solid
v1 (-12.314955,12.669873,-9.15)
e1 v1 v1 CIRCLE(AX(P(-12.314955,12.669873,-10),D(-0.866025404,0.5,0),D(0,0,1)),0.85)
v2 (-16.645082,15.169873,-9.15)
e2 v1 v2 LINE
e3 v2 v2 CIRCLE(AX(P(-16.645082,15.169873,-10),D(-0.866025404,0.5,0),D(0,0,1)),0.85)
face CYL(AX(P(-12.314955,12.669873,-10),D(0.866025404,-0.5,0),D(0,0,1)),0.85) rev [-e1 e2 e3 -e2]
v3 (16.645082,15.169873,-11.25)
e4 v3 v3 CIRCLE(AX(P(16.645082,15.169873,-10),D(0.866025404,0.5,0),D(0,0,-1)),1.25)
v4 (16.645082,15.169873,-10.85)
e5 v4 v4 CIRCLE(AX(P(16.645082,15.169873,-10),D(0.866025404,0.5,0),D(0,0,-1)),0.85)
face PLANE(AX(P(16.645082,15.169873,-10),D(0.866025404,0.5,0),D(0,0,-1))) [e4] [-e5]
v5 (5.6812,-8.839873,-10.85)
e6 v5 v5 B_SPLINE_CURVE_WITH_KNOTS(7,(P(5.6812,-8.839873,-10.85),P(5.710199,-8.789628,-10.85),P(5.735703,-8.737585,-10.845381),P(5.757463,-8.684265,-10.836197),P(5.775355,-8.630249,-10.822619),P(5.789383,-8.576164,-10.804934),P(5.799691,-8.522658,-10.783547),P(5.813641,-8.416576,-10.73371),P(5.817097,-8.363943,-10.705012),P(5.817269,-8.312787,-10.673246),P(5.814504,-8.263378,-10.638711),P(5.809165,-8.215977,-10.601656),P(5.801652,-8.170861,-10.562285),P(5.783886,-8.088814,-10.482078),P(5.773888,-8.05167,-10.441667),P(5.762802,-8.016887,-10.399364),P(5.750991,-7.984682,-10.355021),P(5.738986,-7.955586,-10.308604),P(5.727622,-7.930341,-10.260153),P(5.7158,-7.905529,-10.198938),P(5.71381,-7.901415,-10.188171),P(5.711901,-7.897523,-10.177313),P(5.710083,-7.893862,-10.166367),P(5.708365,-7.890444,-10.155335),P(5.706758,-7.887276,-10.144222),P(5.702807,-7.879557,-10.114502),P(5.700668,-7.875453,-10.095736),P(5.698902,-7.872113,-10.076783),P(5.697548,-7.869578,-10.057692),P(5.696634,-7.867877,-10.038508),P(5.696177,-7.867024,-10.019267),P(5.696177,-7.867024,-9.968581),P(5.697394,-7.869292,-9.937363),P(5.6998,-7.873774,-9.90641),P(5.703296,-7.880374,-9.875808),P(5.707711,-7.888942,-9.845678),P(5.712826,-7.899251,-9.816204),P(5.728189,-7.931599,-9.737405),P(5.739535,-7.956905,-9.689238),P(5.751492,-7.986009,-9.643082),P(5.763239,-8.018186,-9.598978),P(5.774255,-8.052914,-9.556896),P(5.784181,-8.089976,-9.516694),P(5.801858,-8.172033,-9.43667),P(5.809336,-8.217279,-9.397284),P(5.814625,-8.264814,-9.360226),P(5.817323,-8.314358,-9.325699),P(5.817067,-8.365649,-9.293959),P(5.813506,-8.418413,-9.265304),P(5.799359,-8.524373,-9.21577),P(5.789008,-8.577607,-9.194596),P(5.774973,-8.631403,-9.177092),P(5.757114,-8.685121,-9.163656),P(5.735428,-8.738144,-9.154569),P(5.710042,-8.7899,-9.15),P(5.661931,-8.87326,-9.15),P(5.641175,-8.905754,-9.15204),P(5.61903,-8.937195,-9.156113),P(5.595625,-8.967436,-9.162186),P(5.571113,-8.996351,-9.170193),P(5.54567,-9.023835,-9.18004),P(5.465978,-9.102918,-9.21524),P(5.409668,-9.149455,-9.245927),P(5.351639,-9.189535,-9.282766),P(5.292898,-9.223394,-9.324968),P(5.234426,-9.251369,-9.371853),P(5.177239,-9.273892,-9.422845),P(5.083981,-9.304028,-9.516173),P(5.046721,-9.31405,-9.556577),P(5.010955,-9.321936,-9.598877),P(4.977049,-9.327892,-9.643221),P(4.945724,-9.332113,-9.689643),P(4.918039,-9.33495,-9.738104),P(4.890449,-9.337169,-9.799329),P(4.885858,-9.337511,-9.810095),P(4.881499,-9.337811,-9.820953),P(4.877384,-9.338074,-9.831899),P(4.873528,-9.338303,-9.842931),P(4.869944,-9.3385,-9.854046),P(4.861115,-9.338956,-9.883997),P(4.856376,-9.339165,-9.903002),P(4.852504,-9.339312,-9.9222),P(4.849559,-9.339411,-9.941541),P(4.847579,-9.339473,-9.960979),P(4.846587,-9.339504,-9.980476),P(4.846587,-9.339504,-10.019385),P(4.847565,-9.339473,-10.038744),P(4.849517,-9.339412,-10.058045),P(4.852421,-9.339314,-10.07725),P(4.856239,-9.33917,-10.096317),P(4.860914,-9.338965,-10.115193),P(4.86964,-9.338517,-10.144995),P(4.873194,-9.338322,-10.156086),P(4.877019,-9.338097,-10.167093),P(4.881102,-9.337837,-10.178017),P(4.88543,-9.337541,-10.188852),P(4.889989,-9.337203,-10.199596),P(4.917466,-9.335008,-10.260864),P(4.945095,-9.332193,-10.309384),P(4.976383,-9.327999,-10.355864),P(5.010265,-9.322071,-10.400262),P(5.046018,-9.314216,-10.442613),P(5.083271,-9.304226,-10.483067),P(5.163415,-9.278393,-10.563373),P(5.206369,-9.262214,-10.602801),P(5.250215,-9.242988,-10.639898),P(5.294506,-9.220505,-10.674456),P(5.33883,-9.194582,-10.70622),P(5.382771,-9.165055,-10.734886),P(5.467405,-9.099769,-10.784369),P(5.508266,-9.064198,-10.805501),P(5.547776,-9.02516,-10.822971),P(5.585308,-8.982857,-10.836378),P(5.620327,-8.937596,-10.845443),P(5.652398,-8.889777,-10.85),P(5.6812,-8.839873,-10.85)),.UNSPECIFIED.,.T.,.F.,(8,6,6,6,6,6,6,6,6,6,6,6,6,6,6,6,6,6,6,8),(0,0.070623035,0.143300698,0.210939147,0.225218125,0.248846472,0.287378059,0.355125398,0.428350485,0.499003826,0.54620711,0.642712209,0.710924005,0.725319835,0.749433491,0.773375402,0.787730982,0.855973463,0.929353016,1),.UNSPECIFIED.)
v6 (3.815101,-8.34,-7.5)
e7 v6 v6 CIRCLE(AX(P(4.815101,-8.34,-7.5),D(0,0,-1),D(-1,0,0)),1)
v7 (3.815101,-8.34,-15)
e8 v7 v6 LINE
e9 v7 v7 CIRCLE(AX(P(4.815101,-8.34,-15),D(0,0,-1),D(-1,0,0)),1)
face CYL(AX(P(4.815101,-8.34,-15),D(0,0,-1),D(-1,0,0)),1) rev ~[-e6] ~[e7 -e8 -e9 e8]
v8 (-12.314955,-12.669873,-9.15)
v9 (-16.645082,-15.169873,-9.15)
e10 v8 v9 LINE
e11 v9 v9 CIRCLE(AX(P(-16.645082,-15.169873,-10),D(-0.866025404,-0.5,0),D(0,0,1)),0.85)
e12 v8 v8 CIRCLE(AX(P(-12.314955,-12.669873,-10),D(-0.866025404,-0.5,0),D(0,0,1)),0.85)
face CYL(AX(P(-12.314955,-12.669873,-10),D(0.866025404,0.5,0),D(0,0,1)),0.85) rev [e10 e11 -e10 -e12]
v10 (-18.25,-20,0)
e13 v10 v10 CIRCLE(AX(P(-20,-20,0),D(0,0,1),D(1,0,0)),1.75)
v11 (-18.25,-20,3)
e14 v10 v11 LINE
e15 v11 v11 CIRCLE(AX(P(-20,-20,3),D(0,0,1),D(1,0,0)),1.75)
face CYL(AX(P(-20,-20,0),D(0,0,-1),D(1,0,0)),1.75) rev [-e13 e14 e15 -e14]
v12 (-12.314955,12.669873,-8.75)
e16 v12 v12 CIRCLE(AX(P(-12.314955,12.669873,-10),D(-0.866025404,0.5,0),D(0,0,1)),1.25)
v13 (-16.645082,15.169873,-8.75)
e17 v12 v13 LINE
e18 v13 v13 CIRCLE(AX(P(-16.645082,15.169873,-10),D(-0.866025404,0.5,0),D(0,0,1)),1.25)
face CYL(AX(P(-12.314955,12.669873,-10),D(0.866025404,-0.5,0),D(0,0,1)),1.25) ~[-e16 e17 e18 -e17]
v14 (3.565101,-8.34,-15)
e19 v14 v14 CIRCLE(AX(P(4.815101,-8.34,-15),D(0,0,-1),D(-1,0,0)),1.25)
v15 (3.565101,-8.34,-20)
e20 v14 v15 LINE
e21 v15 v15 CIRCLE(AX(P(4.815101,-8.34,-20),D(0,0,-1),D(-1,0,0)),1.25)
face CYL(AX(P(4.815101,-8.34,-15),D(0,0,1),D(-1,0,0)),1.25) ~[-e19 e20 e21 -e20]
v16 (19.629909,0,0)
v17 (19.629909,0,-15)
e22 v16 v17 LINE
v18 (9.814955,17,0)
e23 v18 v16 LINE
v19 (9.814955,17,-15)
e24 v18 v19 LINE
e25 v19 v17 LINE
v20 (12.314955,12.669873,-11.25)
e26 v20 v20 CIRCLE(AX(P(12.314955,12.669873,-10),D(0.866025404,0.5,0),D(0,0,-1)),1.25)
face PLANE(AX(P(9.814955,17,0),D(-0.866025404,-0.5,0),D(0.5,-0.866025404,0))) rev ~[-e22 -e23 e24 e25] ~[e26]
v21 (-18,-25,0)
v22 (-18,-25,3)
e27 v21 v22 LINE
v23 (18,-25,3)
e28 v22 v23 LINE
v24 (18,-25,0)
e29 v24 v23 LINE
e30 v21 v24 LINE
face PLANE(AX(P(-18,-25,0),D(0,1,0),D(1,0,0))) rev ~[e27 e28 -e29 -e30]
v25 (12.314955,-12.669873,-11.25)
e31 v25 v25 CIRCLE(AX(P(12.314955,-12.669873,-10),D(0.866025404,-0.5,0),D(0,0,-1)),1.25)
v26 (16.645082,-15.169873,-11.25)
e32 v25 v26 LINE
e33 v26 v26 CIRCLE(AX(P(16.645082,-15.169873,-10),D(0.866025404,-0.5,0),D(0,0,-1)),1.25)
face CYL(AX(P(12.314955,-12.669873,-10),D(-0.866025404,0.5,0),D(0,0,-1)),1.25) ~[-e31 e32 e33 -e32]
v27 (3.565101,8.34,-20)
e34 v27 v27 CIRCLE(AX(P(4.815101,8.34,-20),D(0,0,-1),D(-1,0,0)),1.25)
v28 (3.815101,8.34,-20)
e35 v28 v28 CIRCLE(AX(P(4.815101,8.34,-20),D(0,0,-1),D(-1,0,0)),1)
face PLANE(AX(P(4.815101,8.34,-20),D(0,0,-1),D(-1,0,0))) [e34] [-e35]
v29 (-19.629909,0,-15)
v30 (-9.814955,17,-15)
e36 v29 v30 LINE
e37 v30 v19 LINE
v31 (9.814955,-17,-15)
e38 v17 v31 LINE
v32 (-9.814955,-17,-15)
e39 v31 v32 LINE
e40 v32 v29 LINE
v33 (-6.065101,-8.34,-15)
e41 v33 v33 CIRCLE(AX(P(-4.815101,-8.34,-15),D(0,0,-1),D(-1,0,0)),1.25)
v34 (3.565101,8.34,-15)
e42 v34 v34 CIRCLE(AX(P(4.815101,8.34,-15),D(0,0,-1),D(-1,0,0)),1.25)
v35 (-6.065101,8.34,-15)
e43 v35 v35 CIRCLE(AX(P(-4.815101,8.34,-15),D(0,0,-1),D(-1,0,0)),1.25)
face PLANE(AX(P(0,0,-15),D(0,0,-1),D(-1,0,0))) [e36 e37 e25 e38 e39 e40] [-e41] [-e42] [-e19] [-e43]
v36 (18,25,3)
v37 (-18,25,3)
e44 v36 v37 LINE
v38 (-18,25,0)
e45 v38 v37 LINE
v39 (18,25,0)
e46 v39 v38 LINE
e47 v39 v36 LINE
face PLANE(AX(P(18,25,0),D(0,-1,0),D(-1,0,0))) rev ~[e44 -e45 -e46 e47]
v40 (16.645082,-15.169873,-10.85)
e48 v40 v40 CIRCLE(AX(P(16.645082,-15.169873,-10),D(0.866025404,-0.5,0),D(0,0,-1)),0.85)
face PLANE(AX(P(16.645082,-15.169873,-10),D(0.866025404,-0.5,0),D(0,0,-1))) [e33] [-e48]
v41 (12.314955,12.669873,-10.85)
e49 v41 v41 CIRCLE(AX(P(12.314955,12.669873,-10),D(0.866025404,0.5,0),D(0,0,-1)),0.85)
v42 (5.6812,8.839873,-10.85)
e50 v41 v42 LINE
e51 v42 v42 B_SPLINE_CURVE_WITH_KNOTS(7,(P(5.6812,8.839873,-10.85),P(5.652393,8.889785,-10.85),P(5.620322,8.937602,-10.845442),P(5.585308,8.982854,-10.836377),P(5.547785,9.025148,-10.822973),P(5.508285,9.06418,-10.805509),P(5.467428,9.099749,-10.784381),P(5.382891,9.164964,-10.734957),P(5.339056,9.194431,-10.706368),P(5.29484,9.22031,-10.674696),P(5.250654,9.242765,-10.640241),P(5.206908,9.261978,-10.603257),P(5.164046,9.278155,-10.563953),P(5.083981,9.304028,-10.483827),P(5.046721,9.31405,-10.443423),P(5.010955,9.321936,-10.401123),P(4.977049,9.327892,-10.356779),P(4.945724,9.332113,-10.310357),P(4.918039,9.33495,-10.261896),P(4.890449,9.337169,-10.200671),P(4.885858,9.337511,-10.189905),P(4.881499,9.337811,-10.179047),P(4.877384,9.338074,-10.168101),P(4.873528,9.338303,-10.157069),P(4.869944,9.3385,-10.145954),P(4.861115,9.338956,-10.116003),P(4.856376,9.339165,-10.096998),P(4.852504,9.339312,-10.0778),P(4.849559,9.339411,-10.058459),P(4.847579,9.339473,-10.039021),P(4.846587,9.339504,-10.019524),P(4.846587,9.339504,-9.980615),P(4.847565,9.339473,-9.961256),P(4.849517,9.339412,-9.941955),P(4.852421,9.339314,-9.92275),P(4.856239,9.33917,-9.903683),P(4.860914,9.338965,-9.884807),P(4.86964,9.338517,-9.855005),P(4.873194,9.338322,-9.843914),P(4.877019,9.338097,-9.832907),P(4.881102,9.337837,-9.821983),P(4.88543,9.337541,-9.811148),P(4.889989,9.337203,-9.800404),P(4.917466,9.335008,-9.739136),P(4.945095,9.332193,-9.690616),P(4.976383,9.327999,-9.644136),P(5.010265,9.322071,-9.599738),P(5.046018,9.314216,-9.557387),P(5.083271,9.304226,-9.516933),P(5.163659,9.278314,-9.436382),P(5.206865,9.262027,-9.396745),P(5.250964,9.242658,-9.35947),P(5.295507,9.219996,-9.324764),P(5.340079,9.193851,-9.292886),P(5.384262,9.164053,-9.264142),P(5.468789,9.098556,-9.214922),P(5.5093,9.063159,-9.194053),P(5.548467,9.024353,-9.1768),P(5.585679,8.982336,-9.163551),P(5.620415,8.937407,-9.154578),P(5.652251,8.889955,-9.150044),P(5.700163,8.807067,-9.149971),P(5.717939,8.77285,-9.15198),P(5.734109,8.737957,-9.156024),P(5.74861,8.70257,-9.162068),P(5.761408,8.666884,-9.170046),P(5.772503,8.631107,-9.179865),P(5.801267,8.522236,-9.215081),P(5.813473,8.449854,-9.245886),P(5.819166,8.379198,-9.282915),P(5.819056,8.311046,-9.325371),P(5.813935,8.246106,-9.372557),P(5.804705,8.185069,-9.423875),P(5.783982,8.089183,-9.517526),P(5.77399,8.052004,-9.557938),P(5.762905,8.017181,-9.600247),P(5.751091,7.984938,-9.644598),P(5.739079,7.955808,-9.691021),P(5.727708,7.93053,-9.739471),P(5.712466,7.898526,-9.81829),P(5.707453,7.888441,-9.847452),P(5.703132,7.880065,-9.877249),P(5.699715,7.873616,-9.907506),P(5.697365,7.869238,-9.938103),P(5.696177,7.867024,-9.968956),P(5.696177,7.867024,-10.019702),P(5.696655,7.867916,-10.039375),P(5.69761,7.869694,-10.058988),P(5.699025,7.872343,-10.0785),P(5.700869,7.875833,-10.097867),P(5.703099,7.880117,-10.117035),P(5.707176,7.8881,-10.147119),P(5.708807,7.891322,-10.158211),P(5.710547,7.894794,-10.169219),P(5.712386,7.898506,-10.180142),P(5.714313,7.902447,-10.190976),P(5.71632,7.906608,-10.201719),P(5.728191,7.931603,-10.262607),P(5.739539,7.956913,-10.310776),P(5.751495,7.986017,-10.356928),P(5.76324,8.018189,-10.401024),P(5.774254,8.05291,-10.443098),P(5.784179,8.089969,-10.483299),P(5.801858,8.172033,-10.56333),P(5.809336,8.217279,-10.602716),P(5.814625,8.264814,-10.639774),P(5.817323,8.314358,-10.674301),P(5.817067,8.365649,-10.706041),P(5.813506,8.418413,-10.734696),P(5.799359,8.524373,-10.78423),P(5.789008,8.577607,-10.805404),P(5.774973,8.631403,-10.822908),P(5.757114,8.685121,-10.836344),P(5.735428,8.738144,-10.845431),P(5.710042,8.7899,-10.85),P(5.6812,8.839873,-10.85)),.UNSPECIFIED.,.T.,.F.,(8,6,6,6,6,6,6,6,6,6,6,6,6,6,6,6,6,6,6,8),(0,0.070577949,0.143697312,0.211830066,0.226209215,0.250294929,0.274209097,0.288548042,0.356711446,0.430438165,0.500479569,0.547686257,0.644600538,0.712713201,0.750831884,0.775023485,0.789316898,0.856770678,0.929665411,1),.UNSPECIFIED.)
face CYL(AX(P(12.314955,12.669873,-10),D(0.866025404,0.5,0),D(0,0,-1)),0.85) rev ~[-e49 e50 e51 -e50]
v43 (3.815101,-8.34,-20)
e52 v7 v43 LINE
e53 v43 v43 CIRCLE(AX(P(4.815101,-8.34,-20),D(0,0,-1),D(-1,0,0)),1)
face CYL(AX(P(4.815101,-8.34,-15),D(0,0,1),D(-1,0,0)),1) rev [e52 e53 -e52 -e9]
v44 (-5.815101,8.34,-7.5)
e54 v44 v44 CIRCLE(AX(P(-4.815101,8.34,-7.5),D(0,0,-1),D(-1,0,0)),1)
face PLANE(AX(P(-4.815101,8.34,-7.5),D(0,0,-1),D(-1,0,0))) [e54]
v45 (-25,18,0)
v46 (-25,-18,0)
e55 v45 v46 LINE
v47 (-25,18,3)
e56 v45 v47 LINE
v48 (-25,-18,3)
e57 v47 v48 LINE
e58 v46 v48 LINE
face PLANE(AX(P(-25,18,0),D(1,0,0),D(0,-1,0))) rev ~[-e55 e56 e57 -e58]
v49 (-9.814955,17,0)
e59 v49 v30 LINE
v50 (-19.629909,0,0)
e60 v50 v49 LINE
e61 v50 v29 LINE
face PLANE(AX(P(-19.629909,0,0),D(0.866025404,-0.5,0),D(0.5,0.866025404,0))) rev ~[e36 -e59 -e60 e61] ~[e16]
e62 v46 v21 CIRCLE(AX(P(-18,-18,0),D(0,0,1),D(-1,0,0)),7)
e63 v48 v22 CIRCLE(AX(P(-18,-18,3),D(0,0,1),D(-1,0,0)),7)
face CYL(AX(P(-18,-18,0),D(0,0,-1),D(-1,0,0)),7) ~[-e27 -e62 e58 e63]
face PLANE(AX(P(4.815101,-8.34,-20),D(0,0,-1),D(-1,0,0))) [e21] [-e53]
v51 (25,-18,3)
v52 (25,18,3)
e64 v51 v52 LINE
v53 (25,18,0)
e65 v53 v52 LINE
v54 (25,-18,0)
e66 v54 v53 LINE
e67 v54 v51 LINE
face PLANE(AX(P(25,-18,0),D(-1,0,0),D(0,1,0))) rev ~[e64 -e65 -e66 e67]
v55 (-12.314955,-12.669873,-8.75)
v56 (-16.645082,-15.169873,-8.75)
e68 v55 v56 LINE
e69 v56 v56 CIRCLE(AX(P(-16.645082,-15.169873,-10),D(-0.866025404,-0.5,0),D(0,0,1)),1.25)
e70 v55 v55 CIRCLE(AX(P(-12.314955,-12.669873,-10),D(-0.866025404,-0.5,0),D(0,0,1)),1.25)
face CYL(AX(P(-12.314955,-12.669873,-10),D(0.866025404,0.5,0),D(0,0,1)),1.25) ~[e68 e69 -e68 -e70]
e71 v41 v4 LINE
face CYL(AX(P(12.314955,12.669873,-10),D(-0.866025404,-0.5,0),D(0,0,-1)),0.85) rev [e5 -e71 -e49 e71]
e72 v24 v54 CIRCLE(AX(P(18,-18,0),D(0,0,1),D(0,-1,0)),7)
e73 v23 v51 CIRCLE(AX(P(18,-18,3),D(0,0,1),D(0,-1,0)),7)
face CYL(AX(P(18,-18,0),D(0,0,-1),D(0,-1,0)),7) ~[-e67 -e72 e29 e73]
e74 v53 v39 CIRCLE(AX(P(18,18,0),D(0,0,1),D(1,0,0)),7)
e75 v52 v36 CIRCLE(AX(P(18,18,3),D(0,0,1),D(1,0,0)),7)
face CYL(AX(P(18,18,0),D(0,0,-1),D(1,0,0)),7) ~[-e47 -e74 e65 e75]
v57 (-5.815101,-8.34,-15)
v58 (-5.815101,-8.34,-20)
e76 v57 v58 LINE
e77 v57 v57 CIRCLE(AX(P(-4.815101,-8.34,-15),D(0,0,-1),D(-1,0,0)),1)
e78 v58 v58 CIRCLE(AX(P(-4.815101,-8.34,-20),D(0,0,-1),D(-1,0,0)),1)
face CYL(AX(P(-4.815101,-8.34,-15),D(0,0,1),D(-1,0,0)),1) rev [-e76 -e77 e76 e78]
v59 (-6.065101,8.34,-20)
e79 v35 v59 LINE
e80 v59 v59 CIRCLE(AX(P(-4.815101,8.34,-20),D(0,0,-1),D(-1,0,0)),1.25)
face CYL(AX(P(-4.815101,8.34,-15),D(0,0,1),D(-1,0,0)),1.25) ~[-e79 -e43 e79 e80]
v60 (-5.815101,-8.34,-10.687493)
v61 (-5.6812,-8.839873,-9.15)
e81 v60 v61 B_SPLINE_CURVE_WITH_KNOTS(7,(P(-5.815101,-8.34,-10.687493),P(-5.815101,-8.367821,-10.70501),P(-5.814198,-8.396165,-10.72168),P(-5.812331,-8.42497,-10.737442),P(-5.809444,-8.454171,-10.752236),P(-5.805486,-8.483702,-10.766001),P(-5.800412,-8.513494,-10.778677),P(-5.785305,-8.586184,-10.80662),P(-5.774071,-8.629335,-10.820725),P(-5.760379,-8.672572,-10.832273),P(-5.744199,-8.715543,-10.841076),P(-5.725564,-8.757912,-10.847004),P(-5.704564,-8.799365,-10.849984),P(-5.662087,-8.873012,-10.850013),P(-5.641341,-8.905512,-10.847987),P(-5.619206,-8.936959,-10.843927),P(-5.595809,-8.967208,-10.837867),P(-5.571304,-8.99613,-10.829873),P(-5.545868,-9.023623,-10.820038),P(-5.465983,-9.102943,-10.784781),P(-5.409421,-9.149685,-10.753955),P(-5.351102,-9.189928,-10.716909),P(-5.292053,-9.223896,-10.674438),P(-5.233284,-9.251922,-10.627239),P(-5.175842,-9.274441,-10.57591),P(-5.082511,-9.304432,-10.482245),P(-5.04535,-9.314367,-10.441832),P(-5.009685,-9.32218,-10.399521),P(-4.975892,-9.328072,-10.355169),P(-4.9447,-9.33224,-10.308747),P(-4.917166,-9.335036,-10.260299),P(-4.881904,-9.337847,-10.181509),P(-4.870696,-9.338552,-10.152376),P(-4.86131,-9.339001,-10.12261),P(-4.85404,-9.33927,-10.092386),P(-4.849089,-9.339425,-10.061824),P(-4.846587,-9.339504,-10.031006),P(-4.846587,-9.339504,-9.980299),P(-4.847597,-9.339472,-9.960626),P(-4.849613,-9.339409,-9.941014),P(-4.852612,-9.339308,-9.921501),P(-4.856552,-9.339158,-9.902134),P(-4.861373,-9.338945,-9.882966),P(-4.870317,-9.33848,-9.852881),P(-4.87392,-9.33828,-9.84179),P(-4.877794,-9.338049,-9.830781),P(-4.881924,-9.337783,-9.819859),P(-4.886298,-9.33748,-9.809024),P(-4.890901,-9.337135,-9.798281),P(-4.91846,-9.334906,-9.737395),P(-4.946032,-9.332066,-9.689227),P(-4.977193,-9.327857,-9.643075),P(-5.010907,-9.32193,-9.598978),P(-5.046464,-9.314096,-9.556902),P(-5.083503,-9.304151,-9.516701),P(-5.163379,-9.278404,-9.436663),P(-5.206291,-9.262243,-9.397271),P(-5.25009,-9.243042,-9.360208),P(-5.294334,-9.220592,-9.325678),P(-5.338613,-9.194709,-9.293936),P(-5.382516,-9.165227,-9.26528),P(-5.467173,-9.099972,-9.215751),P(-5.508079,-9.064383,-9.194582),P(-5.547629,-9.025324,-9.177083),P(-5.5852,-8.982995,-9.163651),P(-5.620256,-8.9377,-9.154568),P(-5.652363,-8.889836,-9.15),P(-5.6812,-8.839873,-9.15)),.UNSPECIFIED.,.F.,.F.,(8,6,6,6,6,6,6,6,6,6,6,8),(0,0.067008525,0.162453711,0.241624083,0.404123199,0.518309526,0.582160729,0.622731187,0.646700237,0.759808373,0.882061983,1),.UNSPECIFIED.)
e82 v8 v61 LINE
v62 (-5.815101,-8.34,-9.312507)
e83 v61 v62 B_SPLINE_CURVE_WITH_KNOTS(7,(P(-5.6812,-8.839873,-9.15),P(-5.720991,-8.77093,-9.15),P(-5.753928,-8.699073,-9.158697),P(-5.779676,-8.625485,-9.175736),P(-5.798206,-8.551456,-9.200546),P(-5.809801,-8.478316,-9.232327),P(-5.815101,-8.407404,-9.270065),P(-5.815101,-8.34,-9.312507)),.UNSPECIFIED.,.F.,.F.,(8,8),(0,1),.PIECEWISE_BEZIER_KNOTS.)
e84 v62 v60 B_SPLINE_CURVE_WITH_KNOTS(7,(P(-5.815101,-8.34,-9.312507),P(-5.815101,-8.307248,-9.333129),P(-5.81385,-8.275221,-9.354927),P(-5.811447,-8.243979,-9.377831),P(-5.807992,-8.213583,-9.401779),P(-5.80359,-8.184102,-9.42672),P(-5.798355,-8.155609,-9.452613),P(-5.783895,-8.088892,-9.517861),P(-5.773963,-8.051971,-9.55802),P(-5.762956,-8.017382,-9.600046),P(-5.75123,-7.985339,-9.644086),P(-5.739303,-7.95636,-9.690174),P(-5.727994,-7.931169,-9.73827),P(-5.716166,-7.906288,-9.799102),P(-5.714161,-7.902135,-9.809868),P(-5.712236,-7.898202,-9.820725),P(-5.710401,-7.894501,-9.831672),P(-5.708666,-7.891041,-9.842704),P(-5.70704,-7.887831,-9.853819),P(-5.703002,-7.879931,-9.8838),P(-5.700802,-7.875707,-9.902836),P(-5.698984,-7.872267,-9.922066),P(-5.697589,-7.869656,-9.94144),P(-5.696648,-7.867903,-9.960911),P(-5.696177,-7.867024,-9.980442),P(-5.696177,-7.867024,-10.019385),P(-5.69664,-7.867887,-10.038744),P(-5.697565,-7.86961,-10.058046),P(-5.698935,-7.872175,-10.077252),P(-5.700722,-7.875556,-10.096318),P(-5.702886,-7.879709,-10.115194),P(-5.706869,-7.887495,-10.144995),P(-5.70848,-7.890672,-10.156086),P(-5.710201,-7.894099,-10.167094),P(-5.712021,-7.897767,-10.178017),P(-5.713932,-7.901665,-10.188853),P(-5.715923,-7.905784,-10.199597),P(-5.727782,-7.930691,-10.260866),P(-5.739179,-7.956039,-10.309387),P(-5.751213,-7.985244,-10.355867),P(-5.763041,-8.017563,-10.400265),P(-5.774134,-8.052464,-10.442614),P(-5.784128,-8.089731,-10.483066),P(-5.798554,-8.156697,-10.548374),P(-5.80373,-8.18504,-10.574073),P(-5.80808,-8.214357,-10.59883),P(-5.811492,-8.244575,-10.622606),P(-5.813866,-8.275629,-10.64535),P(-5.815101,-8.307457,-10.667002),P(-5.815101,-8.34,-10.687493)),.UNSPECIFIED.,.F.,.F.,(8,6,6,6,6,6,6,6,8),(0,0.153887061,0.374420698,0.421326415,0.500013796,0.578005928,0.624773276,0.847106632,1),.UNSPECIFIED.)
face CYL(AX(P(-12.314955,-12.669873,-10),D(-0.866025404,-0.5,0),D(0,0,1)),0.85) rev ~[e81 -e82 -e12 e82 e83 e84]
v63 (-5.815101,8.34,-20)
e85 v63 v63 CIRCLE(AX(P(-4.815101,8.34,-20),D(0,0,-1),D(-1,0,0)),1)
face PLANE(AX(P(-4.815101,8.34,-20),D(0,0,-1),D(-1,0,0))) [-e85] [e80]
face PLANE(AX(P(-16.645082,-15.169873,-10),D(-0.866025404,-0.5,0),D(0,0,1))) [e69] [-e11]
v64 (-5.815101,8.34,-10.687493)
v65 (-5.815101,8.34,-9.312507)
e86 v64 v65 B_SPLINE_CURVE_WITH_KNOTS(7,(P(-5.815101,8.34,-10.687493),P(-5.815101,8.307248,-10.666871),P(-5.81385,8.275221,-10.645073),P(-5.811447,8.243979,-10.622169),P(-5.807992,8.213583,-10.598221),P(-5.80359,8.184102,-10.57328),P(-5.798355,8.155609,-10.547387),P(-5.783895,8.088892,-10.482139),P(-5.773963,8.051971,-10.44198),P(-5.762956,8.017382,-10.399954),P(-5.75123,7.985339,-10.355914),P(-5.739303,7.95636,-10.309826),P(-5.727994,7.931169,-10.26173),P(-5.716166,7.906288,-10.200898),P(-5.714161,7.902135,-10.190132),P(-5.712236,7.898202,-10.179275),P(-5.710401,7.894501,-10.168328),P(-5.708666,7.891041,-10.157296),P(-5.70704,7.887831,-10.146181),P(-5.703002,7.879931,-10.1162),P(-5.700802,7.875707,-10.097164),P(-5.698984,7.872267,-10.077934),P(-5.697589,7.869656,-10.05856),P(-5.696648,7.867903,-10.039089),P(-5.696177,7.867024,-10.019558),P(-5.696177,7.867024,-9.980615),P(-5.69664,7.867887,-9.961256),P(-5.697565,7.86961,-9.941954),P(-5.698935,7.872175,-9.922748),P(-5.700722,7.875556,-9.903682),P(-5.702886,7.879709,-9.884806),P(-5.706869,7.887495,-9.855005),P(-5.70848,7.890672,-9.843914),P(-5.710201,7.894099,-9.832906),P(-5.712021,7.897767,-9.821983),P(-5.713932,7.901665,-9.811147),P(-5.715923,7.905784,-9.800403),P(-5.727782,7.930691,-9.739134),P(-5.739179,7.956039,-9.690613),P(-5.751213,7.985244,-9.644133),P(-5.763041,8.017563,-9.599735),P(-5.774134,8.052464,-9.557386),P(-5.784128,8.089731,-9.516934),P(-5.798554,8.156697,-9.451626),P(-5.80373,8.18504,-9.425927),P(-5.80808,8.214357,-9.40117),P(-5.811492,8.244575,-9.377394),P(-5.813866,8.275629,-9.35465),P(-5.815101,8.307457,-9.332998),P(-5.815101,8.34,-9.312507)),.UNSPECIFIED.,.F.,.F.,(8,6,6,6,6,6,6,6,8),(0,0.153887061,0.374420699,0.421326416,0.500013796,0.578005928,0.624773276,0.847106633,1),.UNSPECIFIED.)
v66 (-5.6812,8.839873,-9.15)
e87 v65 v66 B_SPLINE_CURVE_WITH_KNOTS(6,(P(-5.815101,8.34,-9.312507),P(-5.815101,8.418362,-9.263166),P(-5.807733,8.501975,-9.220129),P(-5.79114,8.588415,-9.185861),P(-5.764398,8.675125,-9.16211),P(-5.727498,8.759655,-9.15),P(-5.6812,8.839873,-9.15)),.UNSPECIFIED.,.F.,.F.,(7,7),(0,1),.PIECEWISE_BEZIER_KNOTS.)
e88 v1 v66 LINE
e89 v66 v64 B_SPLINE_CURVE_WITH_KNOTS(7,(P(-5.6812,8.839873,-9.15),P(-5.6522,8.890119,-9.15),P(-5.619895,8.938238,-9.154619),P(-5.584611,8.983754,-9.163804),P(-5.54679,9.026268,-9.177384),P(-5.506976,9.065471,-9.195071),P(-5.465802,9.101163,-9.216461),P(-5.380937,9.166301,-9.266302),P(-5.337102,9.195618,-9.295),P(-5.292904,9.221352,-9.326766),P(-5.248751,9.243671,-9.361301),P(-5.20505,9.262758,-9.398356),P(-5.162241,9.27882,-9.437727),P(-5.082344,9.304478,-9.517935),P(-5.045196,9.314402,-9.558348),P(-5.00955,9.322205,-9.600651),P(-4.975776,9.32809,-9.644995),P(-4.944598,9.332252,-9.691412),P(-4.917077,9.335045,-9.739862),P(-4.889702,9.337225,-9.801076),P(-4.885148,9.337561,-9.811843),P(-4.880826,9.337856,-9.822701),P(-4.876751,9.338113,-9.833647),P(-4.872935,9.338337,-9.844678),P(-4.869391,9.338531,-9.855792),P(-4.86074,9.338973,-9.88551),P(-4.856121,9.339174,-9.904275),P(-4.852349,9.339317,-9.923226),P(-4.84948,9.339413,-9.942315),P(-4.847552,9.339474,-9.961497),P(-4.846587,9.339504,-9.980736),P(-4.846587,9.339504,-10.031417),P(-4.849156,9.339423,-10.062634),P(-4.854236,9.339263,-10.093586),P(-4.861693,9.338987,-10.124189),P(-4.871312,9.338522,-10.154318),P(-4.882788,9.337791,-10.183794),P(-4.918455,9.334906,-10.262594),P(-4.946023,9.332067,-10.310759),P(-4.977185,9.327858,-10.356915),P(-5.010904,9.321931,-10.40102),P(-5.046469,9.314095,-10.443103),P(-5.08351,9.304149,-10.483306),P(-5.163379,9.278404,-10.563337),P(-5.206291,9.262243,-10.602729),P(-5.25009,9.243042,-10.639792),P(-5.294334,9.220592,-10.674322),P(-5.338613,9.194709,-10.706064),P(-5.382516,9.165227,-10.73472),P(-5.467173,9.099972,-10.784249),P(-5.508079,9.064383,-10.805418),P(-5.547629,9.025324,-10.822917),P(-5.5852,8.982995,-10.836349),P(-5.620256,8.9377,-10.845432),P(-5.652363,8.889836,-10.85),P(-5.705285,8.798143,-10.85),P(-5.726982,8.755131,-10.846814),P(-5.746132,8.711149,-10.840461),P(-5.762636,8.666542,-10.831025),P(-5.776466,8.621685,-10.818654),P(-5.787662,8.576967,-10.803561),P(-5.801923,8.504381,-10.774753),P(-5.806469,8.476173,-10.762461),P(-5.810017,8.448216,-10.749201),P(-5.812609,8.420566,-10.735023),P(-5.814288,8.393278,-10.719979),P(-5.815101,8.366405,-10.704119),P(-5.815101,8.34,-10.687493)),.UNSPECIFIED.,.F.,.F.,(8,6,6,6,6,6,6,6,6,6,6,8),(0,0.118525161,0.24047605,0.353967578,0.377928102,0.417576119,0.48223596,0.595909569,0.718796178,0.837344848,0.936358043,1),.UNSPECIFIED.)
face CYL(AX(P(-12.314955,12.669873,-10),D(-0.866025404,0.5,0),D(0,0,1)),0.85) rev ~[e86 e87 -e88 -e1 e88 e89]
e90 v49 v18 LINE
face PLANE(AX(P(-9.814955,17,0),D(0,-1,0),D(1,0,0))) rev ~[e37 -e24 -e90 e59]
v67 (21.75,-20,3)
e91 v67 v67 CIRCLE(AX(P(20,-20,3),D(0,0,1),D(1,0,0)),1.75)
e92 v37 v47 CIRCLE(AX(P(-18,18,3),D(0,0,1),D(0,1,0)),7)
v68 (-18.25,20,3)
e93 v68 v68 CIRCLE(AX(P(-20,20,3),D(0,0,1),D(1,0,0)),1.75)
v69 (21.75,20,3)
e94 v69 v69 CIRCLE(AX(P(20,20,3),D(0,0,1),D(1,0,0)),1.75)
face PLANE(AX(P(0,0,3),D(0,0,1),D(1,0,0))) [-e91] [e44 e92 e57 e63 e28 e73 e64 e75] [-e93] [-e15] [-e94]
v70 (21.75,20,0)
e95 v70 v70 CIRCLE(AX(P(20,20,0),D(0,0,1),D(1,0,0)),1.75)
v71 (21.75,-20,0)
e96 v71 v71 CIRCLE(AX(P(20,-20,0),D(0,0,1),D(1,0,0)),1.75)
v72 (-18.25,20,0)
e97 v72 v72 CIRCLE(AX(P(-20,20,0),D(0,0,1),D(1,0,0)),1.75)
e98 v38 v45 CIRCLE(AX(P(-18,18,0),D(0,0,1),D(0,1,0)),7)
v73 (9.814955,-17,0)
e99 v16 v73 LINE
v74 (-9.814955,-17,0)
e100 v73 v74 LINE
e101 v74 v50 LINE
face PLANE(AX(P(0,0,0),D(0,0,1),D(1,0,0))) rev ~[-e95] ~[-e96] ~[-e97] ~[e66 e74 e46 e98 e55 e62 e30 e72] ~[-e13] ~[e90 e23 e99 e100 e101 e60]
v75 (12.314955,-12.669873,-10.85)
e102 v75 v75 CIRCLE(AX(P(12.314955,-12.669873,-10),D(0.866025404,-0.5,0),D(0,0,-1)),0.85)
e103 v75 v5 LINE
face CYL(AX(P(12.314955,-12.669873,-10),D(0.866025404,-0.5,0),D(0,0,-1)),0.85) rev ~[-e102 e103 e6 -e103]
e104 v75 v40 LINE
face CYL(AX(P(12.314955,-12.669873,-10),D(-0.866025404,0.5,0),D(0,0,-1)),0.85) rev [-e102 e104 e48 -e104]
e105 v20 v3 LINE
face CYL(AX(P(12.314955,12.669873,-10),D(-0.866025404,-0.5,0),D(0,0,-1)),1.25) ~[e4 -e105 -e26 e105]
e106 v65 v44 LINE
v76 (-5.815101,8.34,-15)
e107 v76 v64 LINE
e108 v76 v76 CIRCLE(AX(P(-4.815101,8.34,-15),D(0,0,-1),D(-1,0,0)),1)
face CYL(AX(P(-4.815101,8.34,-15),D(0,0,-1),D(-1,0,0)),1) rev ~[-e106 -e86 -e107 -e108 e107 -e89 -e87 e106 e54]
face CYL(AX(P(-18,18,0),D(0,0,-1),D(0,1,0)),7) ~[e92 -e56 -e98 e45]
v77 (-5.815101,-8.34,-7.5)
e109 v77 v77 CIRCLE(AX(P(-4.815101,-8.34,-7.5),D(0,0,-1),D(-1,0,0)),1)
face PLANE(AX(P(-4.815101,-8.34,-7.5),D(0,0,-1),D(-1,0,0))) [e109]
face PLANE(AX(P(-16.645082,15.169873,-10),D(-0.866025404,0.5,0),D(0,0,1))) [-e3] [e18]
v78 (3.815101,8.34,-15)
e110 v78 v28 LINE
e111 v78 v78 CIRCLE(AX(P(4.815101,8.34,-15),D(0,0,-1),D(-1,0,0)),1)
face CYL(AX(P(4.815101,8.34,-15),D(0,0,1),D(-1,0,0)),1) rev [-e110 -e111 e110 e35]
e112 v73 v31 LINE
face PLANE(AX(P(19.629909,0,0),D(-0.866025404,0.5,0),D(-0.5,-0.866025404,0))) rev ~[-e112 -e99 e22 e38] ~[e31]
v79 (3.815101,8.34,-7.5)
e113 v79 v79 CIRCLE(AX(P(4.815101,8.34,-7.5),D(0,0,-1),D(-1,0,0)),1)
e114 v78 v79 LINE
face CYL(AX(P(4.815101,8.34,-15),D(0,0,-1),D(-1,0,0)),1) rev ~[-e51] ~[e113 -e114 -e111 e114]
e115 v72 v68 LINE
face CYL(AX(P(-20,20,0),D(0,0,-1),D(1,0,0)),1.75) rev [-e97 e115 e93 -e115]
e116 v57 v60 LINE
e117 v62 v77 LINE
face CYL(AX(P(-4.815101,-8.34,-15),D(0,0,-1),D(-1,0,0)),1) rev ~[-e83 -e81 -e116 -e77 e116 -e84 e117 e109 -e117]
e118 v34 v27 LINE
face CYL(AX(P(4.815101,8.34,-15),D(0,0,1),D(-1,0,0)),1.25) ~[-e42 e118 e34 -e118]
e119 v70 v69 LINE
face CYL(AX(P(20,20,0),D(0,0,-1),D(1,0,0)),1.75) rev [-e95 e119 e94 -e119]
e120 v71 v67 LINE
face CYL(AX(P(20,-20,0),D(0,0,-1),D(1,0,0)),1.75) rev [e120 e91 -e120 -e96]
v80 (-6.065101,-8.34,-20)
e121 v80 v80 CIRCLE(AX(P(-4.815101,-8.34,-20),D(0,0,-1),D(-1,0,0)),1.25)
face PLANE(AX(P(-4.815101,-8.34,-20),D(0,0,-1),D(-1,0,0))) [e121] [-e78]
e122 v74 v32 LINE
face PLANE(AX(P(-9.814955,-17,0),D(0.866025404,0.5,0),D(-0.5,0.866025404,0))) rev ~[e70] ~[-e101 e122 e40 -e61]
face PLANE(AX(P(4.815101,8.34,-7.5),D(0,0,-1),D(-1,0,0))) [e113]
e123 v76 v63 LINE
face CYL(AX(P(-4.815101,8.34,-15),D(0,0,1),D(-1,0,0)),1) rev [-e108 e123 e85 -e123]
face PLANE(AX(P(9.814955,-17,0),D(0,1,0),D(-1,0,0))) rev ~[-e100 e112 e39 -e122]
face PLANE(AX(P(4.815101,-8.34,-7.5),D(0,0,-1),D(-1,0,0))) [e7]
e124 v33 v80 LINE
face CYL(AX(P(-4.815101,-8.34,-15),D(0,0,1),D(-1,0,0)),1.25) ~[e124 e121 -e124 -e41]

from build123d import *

# Parameters (mm, degrees)
SKETCH_1_R           = 1.75
EXTRUDE_3_DEPTH      = 3
EXTRUDE_4_DEPTH      = 15
SKETCH_3_R           = 1
CUT_EXTRUDE_5_DEPTH  = 7.5
SKETCH_8_R           = 0.85
CUT_EXTRUDE_8_DEPTH  = 9
SKETCH_10_R          = 0.85
CUT_EXTRUDE_9_DEPTH  = 9
SKETCH_11_R          = 0.85
CUT_EXTRUDE_10_DEPTH = 9
SKETCH_12_R          = 0.85
CUT_EXTRUDE_11_DEPTH = 9
SKETCH_13_R          = 1.25
SKETCH_13_R_2        = 0.85
EXTRUDE_5_DEPTH      = 5
SKETCH_14_R          = 1.25
SKETCH_14_R_2        = 0.85
EXTRUDE_6_DEPTH      = 5
SKETCH_15_R          = 1.25
SKETCH_15_R_2        = 0.85
EXTRUDE_7_DEPTH      = 5
SKETCH_16_R          = 1.25
SKETCH_16_R_2        = 0.85
EXTRUDE_8_DEPTH      = 5
SKETCH_17_R          = 1.25
SKETCH_17_R_2        = 1
EXTRUDE_9_DEPTH      = 5


with BuildPart() as part:
    # 草图1 → 凸台-拉伸3 (new body)
    with BuildSketch(Plane.XY):
        with BuildLine():
            Line((-18, -25), (18, -25))
            ThreePointArc((18, -25), (22.949747468, -22.949747468), (25, -18))
            Line((25, -18), (25, 18))
            ThreePointArc((25, 18), (22.949747468, 22.949747468), (18, 25))
            Line((18, 25), (-18, 25))
            ThreePointArc((-18, 25), (-22.949747468, 22.949747468), (-25, 18))
            Line((-25, 18), (-25, -18))
            ThreePointArc((-25, -18), (-22.949747468, -22.949747468), (-18, -25))
        make_face()
        with Locations((20, 20)):
            Circle(SKETCH_1_R, mode=Mode.SUBTRACT)
        with Locations((-20, 20)):
            Circle(SKETCH_1_R, mode=Mode.SUBTRACT)
        with Locations((-20, -20)):
            Circle(SKETCH_1_R, mode=Mode.SUBTRACT)
        with Locations((20, -20)):
            Circle(SKETCH_1_R, mode=Mode.SUBTRACT)
    extrude(amount=EXTRUDE_3_DEPTH)

    # 草图2 → 凸台-拉伸4 (add)
    with BuildSketch(Plane(origin=(0, 0, 0), x_dir=(-1, 0, 0), z_dir=(0, 0, -1))):
        Polygon((9.814954576, -17), (19.629909152, 0), (9.814954576, 17), (-9.814954576, 17), (-19.629909152, 0), (-9.814954576, -17), align=None)
    extrude(amount=EXTRUDE_4_DEPTH)

    # 草图3 → 切除-拉伸5 (cut)
    with BuildSketch(Plane(origin=(0, 0, -15), x_dir=(-1, 0, 0), z_dir=(0, 0, -1))):
        with Locations((-4.815101245, 8.34)):
            Circle(SKETCH_3_R)
        with Locations((4.815101245, 8.34)):
            Circle(SKETCH_3_R)
        with Locations((4.815101245, -8.34)):
            Circle(SKETCH_3_R)
        with Locations((-4.815101245, -8.34)):
            Circle(SKETCH_3_R)
    extrude(amount=-CUT_EXTRUDE_5_DEPTH, mode=Mode.SUBTRACT)

    # 草图8 → 切除-拉伸8 (cut)
    with BuildSketch(Plane(origin=(14.722431864, 8.5, 0), x_dir=(0, 0, -1), z_dir=(0.866025404, 0.5, 0))):
        with Locations((10, 4.814954576)):
            Circle(SKETCH_8_R)
    extrude(amount=-CUT_EXTRUDE_8_DEPTH, mode=Mode.SUBTRACT)

    # 草图10 → 切除-拉伸9 (cut)
    with BuildSketch(Plane(origin=(-14.722431864, 8.5, 0), x_dir=(0, 0, 1), z_dir=(-0.866025404, 0.5, 0))):
        with Locations((-10, 4.814954576)):
            Circle(SKETCH_10_R)
    extrude(amount=-CUT_EXTRUDE_9_DEPTH, mode=Mode.SUBTRACT)

    # 草图11 → 切除-拉伸10 (cut)
    with BuildSketch(Plane(origin=(-14.722431864, -8.5, 0), x_dir=(0, 0, 1), z_dir=(-0.866025404, -0.5, 0))):
        with Locations((-10, -4.814954576)):
            Circle(SKETCH_11_R)
    extrude(amount=-CUT_EXTRUDE_10_DEPTH, mode=Mode.SUBTRACT)

    # 草图12 → 切除-拉伸11 (cut)
    with BuildSketch(Plane(origin=(14.722431864, -8.5, 0), x_dir=(0, 0, -1), z_dir=(0.866025404, -0.5, 0))):
        with Locations((10, -4.814954576)):
            Circle(SKETCH_12_R)
    extrude(amount=-CUT_EXTRUDE_11_DEPTH, mode=Mode.SUBTRACT)

    # 草图13 → 凸台-拉伸5 (add)
    with BuildSketch(Plane(origin=(14.722431864, 8.5, 0), x_dir=(0, 0, -1), z_dir=(0.866025404, 0.5, 0))):
        with Locations((10, 4.814954576)):
            Circle(SKETCH_13_R)
        with Locations((10, 4.814954576)):
            Circle(SKETCH_13_R_2, mode=Mode.SUBTRACT)
    extrude(amount=EXTRUDE_5_DEPTH)

    # 草图14 → 凸台-拉伸6 (add)
    with BuildSketch(Plane(origin=(-14.722431864, 8.5, 0), x_dir=(0, 0, 1), z_dir=(-0.866025404, 0.5, 0))):
        with Locations((-10, 4.814954576)):
            Circle(SKETCH_14_R)
        with Locations((-10, 4.814954576)):
            Circle(SKETCH_14_R_2, mode=Mode.SUBTRACT)
    extrude(amount=EXTRUDE_6_DEPTH)

    # 草图15 → 凸台-拉伸7 (add)
    with BuildSketch(Plane(origin=(-14.722431864, -8.5, 0), x_dir=(0, 0, 1), z_dir=(-0.866025404, -0.5, 0))):
        with Locations((-10, -4.814954576)):
            Circle(SKETCH_15_R)
        with Locations((-10, -4.814954576)):
            Circle(SKETCH_15_R_2, mode=Mode.SUBTRACT)
    extrude(amount=EXTRUDE_7_DEPTH)

    # 草图16 → 凸台-拉伸8 (add)
    with BuildSketch(Plane(origin=(14.722431864, -8.5, 0), x_dir=(0, 0, -1), z_dir=(0.866025404, -0.5, 0))):
        with Locations((10, -4.814954576)):
            Circle(SKETCH_16_R)
        with Locations((10, -4.814954576)):
            Circle(SKETCH_16_R_2, mode=Mode.SUBTRACT)
    extrude(amount=EXTRUDE_8_DEPTH)

    # 草图17 → 凸台-拉伸9 (add)
    with BuildSketch(Plane(origin=(0, 0, -15), x_dir=(-1, 0, 0), z_dir=(0, 0, -1))):
        with Locations((4.815101245, 8.34)):
            Circle(SKETCH_17_R)
        with Locations((4.815101245, 8.34)):
            Circle(SKETCH_17_R_2, mode=Mode.SUBTRACT)
        with Locations((-4.815101245, 8.34)):
            Circle(SKETCH_17_R)
        with Locations((-4.815101245, 8.34)):
            Circle(SKETCH_17_R_2, mode=Mode.SUBTRACT)
        with Locations((-4.815101245, -8.34)):
            Circle(SKETCH_17_R)
        with Locations((-4.815101245, -8.34)):
            Circle(SKETCH_17_R_2, mode=Mode.SUBTRACT)
        with Locations((4.815101245, -8.34)):
            Circle(SKETCH_17_R)
        with Locations((4.815101245, -8.34)):
            Circle(SKETCH_17_R_2, mode=Mode.SUBTRACT)
    extrude(amount=EXTRUDE_9_DEPTH)


solid = part.part
